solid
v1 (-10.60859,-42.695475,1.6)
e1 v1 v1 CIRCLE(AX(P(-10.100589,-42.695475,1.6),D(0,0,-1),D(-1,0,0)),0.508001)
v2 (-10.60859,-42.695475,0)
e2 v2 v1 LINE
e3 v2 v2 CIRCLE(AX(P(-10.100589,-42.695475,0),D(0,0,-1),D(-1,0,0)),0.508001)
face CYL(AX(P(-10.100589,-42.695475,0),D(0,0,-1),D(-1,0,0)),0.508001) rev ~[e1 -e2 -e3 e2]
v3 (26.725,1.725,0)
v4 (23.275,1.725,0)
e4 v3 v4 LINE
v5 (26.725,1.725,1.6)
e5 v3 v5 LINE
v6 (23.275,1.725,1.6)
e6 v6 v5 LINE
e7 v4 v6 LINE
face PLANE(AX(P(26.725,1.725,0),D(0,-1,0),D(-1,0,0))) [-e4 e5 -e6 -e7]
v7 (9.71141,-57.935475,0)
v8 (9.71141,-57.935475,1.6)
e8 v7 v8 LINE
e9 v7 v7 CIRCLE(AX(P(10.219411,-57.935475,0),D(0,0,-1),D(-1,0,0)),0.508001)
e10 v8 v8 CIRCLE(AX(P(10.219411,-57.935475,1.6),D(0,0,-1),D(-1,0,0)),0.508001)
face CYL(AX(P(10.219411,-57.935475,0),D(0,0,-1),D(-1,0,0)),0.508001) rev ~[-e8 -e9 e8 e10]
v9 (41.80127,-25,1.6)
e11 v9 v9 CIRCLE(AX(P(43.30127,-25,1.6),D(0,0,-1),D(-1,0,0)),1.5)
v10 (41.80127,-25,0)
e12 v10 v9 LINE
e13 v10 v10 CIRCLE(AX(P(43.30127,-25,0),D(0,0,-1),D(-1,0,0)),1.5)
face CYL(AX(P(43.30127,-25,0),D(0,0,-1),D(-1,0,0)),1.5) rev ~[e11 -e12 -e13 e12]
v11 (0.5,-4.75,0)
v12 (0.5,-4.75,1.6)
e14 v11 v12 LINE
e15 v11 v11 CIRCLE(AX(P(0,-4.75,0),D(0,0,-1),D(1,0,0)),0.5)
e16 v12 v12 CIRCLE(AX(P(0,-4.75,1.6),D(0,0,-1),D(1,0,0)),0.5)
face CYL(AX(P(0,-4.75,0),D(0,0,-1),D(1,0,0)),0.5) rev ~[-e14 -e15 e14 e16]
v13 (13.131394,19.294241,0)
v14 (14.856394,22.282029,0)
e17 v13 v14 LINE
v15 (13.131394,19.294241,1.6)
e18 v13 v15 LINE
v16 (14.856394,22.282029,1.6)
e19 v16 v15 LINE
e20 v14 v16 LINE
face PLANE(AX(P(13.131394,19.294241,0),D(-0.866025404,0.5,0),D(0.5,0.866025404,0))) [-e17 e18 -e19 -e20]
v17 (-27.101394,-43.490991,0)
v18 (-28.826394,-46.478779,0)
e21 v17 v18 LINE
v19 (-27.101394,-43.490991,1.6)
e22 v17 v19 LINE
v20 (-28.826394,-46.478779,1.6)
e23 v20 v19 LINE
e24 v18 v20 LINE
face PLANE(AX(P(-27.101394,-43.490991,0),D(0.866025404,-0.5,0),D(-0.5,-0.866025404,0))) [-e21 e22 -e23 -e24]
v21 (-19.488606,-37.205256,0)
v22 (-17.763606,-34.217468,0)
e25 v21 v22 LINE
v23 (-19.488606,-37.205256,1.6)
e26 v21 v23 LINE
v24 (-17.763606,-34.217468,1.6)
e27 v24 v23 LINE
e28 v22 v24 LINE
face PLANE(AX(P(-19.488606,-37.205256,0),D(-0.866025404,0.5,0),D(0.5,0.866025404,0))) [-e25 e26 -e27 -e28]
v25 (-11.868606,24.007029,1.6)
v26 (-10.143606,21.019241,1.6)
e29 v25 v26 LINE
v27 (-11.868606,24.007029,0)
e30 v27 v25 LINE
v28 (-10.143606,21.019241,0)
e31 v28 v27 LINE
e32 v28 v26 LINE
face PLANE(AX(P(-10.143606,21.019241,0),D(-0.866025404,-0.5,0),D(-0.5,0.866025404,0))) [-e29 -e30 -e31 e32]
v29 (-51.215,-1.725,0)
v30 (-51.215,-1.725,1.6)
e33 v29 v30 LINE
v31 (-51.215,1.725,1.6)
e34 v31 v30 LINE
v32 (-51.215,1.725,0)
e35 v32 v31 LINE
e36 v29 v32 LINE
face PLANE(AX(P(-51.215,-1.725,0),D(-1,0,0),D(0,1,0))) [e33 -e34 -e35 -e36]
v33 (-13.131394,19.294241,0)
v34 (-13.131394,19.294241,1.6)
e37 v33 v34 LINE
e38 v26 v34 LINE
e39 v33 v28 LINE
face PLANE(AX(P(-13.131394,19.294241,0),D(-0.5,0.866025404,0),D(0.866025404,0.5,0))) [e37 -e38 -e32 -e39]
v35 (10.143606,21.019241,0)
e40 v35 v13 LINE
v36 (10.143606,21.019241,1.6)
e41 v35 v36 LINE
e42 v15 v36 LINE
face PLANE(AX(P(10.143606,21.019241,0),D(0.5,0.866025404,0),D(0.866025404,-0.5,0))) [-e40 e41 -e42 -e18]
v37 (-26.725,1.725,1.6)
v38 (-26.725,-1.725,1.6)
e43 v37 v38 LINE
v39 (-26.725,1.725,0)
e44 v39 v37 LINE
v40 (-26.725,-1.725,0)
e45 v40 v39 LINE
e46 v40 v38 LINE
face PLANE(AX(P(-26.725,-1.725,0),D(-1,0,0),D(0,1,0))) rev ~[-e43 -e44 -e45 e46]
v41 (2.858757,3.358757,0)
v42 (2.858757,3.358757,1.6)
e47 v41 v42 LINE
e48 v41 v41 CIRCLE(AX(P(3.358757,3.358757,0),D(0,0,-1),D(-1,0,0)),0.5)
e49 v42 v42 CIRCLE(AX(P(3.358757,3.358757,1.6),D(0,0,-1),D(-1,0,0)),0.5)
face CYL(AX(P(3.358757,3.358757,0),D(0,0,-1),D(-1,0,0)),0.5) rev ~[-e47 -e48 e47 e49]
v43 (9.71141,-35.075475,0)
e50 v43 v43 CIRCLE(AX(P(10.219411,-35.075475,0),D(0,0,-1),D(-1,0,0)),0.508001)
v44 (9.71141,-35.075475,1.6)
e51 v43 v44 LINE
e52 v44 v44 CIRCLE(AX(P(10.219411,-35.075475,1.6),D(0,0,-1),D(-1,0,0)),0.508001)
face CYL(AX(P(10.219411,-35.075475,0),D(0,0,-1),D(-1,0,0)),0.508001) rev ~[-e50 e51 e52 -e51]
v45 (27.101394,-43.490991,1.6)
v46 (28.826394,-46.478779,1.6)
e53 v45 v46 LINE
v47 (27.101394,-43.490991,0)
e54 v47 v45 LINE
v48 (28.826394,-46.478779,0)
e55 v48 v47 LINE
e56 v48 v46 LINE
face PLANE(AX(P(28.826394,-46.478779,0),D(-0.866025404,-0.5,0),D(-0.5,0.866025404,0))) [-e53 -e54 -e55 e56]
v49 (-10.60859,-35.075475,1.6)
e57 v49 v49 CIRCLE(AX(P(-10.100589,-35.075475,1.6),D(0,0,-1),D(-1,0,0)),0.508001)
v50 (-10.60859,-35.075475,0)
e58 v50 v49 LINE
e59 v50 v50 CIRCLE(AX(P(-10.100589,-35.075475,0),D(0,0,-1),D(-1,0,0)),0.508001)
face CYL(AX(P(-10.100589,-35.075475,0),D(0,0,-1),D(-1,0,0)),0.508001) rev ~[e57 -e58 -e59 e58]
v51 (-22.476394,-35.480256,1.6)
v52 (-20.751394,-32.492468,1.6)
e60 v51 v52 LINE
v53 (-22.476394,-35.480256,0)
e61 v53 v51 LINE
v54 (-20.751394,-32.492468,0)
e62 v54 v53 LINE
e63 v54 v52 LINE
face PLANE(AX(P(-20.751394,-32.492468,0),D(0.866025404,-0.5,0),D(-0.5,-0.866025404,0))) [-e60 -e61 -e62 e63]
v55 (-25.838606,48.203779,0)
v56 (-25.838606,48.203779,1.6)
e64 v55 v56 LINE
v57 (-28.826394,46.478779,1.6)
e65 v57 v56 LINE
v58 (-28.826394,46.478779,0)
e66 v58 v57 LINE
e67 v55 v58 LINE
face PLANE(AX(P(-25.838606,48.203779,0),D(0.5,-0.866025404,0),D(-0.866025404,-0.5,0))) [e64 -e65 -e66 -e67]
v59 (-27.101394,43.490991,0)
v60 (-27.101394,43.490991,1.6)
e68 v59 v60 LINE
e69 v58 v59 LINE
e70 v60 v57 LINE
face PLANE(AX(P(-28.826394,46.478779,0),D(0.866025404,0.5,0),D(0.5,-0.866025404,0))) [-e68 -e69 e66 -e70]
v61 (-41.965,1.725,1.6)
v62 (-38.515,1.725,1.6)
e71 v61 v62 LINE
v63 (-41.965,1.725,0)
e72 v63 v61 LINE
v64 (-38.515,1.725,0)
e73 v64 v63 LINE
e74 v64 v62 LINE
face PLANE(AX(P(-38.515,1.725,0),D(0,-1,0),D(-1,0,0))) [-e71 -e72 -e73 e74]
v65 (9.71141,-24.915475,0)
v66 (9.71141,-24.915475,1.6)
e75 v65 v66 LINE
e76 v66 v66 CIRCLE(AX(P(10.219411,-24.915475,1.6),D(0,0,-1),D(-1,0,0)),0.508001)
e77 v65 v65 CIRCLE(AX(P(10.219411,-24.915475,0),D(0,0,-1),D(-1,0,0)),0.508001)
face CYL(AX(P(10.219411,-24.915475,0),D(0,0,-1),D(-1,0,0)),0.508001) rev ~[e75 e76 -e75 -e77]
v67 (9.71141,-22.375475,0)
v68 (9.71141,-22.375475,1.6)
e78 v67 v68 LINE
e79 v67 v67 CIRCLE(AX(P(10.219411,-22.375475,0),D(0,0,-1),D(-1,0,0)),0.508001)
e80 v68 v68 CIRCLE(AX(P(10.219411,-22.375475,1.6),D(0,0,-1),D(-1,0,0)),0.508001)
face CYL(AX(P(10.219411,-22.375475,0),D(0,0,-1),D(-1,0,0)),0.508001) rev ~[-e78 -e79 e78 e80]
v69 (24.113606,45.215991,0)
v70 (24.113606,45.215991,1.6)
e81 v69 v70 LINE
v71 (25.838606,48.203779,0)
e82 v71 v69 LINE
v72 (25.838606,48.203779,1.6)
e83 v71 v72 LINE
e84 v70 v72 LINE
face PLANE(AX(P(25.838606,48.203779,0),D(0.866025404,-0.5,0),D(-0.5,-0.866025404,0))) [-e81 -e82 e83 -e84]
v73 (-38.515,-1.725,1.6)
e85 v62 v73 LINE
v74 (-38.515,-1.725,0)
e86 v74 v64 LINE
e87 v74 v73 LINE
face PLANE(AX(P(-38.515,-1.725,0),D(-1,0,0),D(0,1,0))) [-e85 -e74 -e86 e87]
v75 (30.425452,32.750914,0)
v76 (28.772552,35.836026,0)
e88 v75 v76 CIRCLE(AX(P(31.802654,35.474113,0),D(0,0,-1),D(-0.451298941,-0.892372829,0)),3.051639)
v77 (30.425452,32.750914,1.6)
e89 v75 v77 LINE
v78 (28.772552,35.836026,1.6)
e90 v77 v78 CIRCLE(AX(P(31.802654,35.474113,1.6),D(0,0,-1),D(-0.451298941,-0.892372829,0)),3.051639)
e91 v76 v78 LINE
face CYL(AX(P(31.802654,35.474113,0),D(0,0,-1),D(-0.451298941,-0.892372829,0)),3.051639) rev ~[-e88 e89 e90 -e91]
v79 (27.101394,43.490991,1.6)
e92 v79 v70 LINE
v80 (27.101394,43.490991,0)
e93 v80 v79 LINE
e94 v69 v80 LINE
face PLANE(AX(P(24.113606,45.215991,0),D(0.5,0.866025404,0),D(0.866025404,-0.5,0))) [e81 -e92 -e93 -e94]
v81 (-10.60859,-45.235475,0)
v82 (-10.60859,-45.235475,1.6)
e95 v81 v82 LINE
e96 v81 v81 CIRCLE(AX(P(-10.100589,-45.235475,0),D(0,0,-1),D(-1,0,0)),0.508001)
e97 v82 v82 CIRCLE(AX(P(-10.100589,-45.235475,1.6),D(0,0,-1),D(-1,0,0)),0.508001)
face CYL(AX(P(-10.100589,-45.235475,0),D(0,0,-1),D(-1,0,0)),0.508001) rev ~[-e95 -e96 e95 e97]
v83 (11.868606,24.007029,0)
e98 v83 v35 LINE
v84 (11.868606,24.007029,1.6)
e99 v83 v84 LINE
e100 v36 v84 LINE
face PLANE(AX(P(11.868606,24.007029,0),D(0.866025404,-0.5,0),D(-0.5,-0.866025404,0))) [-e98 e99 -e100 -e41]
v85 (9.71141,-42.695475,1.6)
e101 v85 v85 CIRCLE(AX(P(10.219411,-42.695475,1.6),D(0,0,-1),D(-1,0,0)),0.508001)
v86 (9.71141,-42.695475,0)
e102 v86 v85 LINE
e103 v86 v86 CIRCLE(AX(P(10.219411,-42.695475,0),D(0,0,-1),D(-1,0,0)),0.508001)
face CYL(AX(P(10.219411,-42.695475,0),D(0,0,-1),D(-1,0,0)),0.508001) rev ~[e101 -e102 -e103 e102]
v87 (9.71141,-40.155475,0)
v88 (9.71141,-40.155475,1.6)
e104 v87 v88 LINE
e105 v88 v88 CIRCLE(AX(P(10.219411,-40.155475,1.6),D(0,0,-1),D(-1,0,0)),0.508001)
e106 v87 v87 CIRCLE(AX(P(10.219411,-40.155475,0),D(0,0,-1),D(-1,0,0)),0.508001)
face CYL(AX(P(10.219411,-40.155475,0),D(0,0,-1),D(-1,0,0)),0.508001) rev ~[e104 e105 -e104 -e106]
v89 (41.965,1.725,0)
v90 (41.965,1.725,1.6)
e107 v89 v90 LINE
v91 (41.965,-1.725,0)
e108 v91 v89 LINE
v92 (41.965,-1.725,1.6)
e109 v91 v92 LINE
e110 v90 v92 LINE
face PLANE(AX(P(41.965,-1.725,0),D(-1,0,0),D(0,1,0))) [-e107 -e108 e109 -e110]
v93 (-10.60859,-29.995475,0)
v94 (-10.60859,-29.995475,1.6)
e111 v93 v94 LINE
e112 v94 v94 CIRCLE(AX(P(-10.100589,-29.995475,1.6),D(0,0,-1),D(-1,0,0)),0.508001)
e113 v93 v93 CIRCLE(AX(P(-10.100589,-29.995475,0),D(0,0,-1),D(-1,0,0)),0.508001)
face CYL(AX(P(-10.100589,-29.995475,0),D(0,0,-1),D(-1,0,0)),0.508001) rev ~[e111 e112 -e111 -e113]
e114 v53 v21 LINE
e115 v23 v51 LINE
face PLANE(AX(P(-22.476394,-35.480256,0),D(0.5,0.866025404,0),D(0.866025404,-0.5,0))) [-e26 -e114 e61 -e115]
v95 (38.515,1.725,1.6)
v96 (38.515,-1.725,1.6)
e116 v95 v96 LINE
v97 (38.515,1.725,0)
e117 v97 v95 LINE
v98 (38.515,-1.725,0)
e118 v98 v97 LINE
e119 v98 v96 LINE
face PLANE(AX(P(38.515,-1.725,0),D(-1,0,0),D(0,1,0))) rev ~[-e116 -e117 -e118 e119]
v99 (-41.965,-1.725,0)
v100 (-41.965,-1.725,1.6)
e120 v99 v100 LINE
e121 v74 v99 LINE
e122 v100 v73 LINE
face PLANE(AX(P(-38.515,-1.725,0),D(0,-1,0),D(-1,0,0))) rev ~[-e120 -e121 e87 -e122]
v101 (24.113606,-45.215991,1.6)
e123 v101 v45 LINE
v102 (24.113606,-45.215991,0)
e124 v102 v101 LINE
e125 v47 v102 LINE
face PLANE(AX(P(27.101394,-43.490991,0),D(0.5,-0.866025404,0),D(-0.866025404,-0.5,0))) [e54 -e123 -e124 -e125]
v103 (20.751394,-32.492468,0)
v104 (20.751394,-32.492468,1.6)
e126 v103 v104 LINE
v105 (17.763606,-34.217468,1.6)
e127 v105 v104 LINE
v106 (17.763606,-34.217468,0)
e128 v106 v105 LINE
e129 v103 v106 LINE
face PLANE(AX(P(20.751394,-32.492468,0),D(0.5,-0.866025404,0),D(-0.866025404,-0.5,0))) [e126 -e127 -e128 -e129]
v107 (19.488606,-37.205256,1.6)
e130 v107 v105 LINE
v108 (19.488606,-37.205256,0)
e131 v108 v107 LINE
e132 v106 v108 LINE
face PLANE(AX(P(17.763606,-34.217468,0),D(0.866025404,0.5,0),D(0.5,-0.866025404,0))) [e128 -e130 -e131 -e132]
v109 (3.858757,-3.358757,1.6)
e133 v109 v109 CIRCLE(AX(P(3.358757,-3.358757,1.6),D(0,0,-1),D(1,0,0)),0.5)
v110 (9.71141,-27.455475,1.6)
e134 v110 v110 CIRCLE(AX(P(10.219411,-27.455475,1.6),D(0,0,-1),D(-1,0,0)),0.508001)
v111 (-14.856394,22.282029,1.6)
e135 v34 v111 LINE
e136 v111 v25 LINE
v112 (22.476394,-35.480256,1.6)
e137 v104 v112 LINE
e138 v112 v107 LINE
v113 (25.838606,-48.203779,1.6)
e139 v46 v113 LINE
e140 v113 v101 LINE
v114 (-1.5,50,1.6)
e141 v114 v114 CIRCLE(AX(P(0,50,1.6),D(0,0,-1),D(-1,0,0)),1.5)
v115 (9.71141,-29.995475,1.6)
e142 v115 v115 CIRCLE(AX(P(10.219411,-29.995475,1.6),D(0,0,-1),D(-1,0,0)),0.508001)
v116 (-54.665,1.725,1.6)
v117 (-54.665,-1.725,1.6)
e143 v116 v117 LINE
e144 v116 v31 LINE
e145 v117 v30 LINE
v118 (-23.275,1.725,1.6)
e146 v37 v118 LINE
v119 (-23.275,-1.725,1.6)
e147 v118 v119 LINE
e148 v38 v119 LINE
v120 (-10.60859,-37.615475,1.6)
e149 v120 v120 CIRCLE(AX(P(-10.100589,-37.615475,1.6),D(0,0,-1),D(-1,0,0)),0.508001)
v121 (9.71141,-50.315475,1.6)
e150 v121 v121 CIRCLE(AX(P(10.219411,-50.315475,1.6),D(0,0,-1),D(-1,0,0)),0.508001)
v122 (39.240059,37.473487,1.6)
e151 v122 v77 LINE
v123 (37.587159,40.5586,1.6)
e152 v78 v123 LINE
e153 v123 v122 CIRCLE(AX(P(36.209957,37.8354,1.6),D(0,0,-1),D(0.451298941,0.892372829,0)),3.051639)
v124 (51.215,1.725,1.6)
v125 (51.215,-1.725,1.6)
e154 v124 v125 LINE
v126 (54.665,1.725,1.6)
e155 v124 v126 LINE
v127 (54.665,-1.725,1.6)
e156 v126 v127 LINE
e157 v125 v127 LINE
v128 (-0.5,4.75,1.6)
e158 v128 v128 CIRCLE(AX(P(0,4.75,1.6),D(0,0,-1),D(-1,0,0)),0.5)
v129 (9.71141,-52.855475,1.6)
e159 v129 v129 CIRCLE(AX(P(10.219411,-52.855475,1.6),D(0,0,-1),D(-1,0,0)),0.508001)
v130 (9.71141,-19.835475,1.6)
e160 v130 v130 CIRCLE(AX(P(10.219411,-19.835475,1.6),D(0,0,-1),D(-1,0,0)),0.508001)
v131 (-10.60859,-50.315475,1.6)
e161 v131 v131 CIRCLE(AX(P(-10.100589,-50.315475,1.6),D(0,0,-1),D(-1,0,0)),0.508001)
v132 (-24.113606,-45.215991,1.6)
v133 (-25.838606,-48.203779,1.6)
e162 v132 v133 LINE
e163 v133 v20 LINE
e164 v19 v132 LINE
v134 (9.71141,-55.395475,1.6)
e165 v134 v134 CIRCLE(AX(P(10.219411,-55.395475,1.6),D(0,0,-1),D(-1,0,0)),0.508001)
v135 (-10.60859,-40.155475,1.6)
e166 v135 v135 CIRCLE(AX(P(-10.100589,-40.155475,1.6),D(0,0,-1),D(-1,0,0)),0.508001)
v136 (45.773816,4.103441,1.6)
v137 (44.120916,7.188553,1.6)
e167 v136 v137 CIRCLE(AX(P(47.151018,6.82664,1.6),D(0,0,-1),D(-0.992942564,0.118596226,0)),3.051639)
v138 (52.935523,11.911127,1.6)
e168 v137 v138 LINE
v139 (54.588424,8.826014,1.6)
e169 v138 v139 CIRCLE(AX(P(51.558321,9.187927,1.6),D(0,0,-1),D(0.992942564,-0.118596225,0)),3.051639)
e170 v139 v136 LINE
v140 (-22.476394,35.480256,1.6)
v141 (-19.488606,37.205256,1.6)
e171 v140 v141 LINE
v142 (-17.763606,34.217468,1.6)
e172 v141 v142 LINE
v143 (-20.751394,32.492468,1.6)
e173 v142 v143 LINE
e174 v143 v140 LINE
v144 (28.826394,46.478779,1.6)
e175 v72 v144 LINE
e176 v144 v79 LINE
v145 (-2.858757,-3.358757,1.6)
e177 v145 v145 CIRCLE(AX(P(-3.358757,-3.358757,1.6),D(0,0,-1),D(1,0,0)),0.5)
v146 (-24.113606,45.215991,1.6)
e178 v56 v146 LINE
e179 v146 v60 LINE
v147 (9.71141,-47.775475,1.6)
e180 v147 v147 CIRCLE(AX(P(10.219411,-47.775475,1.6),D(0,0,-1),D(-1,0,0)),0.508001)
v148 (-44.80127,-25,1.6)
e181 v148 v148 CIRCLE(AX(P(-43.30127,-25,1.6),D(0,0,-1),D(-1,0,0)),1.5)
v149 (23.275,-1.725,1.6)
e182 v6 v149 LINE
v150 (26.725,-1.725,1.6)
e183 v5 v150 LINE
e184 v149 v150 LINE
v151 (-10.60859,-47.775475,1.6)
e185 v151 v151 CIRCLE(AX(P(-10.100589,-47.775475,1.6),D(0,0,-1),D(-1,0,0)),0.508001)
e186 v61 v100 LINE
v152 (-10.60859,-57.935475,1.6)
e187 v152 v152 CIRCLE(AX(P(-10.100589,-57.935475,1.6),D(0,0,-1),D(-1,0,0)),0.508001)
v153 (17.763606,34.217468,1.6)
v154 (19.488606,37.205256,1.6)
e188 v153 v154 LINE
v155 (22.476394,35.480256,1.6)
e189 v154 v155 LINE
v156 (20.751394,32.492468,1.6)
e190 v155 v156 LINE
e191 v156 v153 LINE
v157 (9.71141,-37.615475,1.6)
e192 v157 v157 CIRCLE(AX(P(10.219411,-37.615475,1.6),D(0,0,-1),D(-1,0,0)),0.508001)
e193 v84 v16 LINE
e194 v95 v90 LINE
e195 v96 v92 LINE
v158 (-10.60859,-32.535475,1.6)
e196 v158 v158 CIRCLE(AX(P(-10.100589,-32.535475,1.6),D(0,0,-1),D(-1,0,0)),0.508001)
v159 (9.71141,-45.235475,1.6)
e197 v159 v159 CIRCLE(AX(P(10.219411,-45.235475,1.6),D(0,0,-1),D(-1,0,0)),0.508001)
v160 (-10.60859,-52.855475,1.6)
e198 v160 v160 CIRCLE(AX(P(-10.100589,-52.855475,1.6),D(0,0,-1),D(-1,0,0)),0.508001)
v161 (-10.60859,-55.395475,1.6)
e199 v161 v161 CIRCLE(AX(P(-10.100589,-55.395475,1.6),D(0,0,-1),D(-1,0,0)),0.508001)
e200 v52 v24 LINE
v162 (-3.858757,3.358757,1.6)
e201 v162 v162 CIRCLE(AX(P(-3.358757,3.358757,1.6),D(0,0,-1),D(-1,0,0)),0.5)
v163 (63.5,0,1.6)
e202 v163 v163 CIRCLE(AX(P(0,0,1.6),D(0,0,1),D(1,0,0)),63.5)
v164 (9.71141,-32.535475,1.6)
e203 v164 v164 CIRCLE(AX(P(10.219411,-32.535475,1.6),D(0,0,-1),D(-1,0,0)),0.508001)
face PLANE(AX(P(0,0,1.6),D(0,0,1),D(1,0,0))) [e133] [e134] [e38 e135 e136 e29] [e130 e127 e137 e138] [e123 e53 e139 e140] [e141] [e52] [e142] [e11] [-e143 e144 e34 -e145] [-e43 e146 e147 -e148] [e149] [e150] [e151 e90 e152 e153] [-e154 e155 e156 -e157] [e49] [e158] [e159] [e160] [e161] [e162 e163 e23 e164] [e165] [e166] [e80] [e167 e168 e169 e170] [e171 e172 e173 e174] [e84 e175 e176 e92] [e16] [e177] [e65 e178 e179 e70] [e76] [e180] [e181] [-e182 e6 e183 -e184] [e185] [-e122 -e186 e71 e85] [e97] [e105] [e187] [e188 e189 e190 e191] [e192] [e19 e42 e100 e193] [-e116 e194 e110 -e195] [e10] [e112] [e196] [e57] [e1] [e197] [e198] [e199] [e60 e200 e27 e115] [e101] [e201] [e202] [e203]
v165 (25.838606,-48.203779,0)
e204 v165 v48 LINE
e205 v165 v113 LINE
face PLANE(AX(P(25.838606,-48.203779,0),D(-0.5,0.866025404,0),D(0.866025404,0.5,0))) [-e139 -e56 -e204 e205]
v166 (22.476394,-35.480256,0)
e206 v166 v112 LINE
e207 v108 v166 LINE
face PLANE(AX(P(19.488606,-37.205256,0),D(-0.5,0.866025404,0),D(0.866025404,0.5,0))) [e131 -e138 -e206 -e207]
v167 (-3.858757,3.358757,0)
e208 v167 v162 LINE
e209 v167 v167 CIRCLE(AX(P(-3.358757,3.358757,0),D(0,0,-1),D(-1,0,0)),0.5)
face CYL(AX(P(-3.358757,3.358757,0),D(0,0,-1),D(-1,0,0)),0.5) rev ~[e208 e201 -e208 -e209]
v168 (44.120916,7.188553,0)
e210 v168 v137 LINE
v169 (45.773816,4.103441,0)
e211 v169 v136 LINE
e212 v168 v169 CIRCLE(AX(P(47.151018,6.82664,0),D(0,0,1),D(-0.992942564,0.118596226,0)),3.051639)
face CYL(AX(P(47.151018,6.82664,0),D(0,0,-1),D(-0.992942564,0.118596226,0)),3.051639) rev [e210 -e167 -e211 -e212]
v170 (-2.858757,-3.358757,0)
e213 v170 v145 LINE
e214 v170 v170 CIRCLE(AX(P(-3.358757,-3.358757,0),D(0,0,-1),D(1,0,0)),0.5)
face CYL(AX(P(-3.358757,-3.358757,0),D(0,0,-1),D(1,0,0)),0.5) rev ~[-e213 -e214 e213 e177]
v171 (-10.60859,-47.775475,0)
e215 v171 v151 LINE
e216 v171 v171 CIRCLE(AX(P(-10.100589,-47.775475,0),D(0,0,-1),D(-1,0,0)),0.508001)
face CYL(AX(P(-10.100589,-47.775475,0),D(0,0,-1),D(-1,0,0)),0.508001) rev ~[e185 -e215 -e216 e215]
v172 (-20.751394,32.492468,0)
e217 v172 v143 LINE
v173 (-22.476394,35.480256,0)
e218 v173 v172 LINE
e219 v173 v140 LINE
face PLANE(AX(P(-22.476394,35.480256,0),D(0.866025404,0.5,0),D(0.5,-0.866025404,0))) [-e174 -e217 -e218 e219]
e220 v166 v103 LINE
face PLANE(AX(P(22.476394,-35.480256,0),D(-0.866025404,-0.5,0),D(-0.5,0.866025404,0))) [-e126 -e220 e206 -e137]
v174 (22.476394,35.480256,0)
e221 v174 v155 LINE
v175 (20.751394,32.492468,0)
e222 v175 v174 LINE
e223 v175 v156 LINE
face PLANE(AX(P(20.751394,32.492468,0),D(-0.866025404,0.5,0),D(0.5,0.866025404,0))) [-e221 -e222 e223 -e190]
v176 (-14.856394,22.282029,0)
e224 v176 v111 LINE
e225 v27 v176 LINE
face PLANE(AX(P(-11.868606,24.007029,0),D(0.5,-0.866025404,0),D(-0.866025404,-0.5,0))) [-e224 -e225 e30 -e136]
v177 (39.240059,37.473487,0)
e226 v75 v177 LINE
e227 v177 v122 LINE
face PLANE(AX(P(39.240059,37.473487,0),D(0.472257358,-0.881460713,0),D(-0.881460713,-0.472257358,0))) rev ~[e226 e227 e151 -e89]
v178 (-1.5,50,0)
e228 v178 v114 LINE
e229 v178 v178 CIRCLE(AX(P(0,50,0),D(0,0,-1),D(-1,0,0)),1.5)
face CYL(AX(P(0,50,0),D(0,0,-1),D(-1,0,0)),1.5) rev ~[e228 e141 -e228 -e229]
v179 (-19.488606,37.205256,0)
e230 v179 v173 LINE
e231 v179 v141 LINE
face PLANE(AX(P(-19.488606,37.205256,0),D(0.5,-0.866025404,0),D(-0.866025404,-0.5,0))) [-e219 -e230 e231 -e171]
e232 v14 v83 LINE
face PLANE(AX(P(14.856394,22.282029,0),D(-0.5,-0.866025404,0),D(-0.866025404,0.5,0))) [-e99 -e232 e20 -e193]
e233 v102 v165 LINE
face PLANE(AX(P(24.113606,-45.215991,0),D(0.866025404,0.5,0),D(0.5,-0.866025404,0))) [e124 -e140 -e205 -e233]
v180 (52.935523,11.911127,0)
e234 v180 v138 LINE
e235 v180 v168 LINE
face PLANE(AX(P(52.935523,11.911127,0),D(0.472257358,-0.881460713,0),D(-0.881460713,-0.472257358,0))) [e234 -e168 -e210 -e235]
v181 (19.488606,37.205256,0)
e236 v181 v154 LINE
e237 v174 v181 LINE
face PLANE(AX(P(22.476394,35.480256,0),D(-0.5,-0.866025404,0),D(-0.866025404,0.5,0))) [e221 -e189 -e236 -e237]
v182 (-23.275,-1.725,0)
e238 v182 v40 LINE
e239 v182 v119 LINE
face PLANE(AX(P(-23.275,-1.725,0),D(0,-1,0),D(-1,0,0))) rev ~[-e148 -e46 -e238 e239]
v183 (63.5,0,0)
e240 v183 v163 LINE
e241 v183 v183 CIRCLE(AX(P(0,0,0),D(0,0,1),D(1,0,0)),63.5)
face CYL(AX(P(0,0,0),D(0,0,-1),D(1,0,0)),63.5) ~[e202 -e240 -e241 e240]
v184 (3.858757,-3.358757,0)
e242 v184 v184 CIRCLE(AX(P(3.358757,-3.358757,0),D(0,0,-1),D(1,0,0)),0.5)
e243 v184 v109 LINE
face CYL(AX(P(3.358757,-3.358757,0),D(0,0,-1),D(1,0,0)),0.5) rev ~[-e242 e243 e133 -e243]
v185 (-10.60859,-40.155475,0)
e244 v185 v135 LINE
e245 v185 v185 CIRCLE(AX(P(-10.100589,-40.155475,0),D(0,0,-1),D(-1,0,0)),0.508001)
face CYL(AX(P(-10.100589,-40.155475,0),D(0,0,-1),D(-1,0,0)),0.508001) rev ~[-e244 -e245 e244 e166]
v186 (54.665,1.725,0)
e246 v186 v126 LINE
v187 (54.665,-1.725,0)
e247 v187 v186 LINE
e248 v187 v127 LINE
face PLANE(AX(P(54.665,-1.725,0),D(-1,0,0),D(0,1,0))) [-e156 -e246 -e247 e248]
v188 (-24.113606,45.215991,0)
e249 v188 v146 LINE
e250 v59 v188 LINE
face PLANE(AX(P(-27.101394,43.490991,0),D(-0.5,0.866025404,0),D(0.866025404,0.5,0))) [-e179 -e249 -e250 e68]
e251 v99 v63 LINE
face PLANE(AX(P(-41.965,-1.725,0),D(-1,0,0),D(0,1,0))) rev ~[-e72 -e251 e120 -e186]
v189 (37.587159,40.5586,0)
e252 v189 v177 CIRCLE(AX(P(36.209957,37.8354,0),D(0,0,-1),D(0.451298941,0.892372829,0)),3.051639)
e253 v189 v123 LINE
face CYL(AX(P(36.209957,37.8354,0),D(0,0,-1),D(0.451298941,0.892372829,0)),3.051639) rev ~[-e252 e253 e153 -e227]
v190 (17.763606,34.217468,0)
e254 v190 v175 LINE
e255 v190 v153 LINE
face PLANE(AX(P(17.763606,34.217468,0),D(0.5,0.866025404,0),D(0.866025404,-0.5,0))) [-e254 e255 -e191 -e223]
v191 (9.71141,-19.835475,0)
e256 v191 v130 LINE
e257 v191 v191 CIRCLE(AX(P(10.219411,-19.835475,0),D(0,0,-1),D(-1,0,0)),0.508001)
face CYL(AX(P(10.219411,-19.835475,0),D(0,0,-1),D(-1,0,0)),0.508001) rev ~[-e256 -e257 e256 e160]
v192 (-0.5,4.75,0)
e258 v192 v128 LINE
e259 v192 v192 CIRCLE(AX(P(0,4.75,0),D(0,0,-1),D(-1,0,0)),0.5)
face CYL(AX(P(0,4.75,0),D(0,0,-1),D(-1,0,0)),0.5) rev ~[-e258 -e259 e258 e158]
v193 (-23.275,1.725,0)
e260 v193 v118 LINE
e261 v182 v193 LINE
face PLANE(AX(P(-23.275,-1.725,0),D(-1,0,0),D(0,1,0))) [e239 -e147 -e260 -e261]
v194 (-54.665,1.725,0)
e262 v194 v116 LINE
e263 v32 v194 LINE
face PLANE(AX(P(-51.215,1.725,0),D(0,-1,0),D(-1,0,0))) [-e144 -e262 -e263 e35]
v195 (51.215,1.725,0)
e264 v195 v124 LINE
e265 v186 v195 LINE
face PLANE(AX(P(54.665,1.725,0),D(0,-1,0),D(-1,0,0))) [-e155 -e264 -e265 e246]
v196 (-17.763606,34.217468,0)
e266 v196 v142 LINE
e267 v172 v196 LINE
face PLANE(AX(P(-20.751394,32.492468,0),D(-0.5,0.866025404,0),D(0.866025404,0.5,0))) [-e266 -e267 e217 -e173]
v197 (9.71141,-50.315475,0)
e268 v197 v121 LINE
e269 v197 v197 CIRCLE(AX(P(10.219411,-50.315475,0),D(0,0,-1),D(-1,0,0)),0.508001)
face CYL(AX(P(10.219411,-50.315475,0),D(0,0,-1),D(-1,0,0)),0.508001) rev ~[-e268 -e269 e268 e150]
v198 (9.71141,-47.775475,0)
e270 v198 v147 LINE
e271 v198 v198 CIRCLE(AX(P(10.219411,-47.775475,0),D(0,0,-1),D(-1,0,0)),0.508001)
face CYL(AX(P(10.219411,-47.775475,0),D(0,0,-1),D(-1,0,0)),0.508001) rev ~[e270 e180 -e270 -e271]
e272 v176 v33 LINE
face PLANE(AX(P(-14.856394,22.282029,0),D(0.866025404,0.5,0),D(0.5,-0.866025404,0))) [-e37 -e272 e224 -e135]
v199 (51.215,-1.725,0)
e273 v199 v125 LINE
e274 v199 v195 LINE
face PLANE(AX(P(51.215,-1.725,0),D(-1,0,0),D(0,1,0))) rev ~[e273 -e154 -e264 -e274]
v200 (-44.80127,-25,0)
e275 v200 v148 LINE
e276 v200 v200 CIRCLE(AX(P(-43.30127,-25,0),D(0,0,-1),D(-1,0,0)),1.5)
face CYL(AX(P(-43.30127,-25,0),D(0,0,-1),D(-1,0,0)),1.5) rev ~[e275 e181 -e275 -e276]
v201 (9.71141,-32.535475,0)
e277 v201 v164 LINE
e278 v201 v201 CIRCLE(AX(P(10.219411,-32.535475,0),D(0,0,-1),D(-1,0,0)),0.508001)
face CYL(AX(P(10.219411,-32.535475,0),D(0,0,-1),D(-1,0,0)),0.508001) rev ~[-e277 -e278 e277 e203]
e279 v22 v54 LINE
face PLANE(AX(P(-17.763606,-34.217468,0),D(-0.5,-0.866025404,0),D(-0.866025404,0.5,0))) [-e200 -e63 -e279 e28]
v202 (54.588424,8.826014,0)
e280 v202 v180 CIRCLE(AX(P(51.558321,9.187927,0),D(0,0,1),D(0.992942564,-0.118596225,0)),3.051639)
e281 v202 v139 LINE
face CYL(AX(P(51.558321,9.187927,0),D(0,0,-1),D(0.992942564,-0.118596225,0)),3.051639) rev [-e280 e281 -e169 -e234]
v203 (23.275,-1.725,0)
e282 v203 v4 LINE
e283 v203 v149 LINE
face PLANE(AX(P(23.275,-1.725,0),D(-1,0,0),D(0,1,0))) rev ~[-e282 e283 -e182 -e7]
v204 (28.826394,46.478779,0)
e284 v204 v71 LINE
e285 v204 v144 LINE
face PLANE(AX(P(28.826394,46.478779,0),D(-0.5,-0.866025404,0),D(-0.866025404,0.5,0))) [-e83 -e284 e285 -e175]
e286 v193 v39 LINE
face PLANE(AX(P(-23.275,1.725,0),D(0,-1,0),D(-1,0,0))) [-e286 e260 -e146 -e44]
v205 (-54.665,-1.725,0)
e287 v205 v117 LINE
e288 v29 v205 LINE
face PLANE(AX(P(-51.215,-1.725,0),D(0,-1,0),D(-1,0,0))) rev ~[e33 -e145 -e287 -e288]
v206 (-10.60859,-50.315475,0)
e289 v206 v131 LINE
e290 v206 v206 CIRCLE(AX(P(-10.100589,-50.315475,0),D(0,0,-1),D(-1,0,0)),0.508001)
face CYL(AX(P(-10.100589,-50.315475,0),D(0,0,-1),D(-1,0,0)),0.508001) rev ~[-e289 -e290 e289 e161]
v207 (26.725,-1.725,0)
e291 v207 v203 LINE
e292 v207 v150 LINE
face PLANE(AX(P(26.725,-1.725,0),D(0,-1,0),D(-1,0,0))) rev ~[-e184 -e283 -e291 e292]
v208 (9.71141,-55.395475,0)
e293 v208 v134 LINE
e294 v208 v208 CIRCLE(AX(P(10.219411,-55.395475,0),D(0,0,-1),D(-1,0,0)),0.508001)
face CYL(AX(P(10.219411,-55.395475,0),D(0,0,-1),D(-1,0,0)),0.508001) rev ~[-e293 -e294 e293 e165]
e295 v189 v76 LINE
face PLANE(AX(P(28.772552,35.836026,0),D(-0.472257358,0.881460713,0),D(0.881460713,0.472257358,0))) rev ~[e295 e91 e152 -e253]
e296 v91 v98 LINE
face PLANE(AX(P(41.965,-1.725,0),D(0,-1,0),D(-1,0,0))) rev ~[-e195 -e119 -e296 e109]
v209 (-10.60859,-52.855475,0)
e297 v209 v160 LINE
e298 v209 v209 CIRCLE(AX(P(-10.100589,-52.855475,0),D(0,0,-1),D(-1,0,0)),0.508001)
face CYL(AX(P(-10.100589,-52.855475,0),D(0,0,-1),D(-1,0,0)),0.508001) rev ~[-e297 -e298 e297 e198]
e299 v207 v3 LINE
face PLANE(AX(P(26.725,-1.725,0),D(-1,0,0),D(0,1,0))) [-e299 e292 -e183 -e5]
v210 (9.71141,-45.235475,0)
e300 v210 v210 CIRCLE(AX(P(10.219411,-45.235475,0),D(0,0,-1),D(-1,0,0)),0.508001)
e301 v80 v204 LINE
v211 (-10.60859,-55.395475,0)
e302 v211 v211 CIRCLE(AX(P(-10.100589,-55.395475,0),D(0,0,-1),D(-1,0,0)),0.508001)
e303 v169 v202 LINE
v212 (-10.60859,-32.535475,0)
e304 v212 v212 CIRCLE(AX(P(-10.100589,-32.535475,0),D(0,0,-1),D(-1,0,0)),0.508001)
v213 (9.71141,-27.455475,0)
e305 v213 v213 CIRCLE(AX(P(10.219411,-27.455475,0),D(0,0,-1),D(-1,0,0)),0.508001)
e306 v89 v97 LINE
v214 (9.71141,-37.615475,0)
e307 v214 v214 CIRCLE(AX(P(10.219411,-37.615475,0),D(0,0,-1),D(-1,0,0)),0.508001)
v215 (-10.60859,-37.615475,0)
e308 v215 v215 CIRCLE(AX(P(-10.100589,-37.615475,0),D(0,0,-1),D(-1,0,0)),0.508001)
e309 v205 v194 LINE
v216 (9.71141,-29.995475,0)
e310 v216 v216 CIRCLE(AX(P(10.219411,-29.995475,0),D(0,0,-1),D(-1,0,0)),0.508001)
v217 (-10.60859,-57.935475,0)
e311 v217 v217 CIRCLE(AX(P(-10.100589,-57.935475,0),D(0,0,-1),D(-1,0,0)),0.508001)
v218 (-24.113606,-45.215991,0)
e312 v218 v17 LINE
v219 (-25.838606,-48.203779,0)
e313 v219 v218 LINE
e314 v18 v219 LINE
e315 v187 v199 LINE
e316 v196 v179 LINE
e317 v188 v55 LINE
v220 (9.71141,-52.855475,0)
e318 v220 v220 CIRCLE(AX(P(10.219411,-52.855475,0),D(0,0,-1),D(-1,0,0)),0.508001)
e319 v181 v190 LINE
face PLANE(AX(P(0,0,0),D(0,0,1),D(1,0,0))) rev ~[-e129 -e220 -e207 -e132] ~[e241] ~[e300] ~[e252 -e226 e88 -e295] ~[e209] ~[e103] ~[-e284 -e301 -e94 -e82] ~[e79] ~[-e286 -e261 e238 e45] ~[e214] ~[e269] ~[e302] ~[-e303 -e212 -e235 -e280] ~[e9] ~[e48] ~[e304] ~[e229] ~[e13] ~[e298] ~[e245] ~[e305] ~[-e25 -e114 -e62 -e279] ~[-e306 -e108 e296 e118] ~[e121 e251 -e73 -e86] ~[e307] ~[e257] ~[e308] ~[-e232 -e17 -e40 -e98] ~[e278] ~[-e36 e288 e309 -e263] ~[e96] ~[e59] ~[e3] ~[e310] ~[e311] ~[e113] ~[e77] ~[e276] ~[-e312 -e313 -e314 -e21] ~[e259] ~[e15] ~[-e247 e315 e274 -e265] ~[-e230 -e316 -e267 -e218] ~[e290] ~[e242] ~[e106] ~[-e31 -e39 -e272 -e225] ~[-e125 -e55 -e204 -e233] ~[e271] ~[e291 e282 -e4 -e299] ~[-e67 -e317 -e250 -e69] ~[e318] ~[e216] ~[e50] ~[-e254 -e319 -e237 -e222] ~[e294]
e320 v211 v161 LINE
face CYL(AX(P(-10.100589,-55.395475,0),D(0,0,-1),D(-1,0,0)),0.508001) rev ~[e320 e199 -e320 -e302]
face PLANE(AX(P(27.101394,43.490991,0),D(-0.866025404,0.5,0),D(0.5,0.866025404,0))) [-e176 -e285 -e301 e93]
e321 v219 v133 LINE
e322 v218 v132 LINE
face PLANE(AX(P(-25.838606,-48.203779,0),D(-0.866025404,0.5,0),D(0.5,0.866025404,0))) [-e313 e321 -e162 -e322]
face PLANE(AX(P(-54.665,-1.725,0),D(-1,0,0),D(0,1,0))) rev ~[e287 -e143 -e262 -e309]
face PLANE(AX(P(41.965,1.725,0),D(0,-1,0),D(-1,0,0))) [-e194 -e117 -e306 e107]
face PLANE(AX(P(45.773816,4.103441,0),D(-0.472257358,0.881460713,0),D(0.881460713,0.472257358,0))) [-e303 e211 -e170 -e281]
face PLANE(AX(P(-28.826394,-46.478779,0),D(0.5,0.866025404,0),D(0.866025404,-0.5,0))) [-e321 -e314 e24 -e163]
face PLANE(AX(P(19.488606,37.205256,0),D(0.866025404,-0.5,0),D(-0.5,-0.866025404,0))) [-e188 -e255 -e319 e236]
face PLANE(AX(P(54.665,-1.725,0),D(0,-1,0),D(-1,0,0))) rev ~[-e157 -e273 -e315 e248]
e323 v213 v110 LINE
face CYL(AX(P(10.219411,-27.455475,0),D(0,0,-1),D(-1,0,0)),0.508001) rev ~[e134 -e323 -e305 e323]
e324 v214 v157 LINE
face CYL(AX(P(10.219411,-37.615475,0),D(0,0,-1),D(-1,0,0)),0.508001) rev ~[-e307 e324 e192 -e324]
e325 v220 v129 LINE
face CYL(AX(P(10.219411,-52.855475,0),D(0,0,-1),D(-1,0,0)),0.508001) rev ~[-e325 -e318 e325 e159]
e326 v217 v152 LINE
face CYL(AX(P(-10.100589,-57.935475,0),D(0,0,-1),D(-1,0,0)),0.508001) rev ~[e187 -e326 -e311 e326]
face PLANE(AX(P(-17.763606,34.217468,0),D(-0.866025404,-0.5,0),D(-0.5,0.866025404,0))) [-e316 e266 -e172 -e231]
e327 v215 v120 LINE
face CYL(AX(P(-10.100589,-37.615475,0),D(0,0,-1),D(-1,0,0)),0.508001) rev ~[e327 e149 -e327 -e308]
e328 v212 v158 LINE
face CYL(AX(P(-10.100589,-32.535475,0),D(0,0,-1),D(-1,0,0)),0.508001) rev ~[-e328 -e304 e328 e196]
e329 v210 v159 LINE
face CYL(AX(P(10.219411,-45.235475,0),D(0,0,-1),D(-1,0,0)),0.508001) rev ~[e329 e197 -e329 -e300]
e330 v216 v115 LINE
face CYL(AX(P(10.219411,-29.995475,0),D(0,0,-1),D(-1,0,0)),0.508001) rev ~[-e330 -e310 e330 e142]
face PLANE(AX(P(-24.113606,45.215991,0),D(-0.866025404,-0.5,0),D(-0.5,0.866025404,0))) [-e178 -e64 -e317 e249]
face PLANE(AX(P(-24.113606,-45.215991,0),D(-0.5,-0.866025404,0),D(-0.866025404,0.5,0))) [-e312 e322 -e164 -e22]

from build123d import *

# Parameters (mm, degrees)
SKETCH1_R           = 63.5
BOSS_EXTRUDE1_DEPTH = 1.6
SKETCH3_R           = 1.75
CUT_EXTRUDE4_DEPTH  = 1.6
SKETCH2_R           = 1.5
CUT_EXTRUDE5_DEPTH  = 1.6
CUT_EXTRUDE6_DEPTH  = 10
SKETCH5_R           = 0.508001015
SKETCH5_W           = 3.45
SKETCH5_H           = 3.45
CUT_EXTRUDE7_DEPTH  = 10
SKETCH6_R           = 0.5
CUT_EXTRUDE8_DEPTH  = 10


with BuildPart() as part:
    # Sketch1 → Boss-Extrude1 (new body)
    with BuildSketch(Plane.XY):
        Circle(SKETCH1_R)
    extrude(amount=BOSS_EXTRUDE1_DEPTH)

    # Sketch3 → Cut-Extrude4 (cut)
    with BuildSketch(Plane(origin=(0, 0, 0), x_dir=(-1, 0, 0), z_dir=(0, 0, -1))):
        with Locations((-34.006305458, 36.654756705)):
            Circle(SKETCH3_R)
        with Locations((-49.354669589, 8.007283544)):
            Circle(SKETCH3_R)
    extrude(amount=-CUT_EXTRUDE4_DEPTH, mode=Mode.SUBTRACT)

    # Sketch2 → Cut-Extrude5 (cut)
    with BuildSketch(Plane(origin=(0, 0, 0), x_dir=(-1, 0, 0), z_dir=(0, 0, -1))):
        with Locations((0, 50)):
            Circle(SKETCH2_R)
        with Locations((43.301270189, -25)):
            Circle(SKETCH2_R)
        with Locations((-43.301270189, -25)):
            Circle(SKETCH2_R)
    extrude(amount=-CUT_EXTRUDE5_DEPTH, mode=Mode.SUBTRACT)

    # Sketch4 → Cut-Extrude6 (cut)
    with BuildSketch(Plane(origin=(0, 0, 0), x_dir=(-1, 0, 0), z_dir=(0, 0, -1))):
        with BuildLine():
            Line((-52.935522776, 11.911126581), (-44.12091565, 7.188553002))
            ThreePointArc((-44.12091565, 7.188553002), (-44.461118004, 5.385481223), (-45.773816402, 4.103440508))
            Line((-45.773816402, 4.103440508), (-54.588423529, 8.826014086))
            ThreePointArc((-54.588423529, 8.826014086), (-54.248221174, 10.629085865), (-52.935522776, 11.911126581))
        make_face()
        with BuildLine():
            Line((-39.240059397, 37.473487247), (-30.425452271, 32.750913668))
            ThreePointArc((-30.425452271, 32.750913668), (-29.112753873, 34.032954384), (-28.772551518, 35.836026163))
            Line((-28.772551518, 35.836026163), (-37.587158645, 40.558599742))
            ThreePointArc((-37.587158645, 40.558599742), (-38.899857043, 39.276559026), (-39.240059397, 37.473487247))
        make_face()
    extrude(amount=-CUT_EXTRUDE6_DEPTH, mode=Mode.SUBTRACT)

    # Sketch5 → Cut-Extrude7 (cut)
    with BuildSketch(Plane(origin=(0, 0, 0), x_dir=(-1, 0, 0), z_dir=(0, 0, -1))):
        with Locations((-10.219411384, -19.83547506)):
            Circle(SKETCH5_R)
        with Locations((-10.219411384, -22.37547506)):
            Circle(SKETCH5_R)
        with Locations((-10.219411384, -24.91547506)):
            Circle(SKETCH5_R)
        with Locations((-10.219411384, -27.45547506)):
            Circle(SKETCH5_R)
        with Locations((-10.219411384, -29.99547506)):
            Circle(SKETCH5_R)
        with Locations((-10.219411384, -32.53547506)):
            Circle(SKETCH5_R)
        with Locations((-10.219411384, -35.07547506)):
            Circle(SKETCH5_R)
        with Locations((-10.219411384, -37.61547506)):
            Circle(SKETCH5_R)
        with Locations((-10.219411384, -40.15547506)):
            Circle(SKETCH5_R)
        with Locations((-10.219411384, -42.69547506)):
            Circle(SKETCH5_R)
        with Locations((-10.219411384, -45.23547506)):
            Circle(SKETCH5_R)
        with Locations((-10.219411384, -47.77547506)):
            Circle(SKETCH5_R)
        with Locations((-10.219411384, -50.31547506)):
            Circle(SKETCH5_R)
        with Locations((-10.219411384, -52.85547506)):
            Circle(SKETCH5_R)
        with Locations((-10.219411384, -55.39547506)):
            Circle(SKETCH5_R)
        with Locations((-10.219411384, -57.93547506)):
            Circle(SKETCH5_R)
        with Locations((10.100588616, -57.93547506)):
            Circle(SKETCH5_R)
        with Locations((10.100588616, -55.39547506)):
            Circle(SKETCH5_R)
        with Locations((10.100588616, -52.85547506)):
            Circle(SKETCH5_R)
        with Locations((10.100588616, -50.31547506)):
            Circle(SKETCH5_R)
        with Locations((10.100588616, -47.77547506)):
            Circle(SKETCH5_R)
        with Locations((10.100588616, -45.23547506)):
            Circle(SKETCH5_R)
        with Locations((10.100588616, -42.69547506)):
            Circle(SKETCH5_R)
        with Locations((10.100588616, -40.15547506)):
            Circle(SKETCH5_R)
        with Locations((10.100588616, -37.61547506)):
            Circle(SKETCH5_R)
        with Locations((10.100588616, -29.99547506)):
            Circle(SKETCH5_R)
        with Locations((10.100588616, -32.53547506)):
            Circle(SKETCH5_R)
        with Locations((10.100588616, -35.07547506)):
            Circle(SKETCH5_R)
        Polygon((-14.856393822, 22.282028916), (-11.868606178, 24.007028916), (-10.143606178, 21.019241273), (-13.131393822, 19.294241273), align=None)
        with Locations((-25, 0)):
            Rectangle(SKETCH5_W, SKETCH5_H)
        with Locations((-40.24, 0)):
            Rectangle(SKETCH5_W, SKETCH5_H)
        with Locations((-52.94, 0)):
            Rectangle(SKETCH5_W, SKETCH5_H)
        Polygon((-22.476393822, 35.48025607), (-19.488606178, 37.20525607), (-17.763606178, 34.217468427), (-20.751393822, 32.492468427), align=None)
        Polygon((-28.826393822, 46.478778698), (-25.838606178, 48.203778698), (-24.113606178, 45.215991055), (-27.101393822, 43.490991055), align=None)
        Polygon((11.868606178, 24.007028916), (14.856393822, 22.282028916), (13.131393822, 19.294241273), (10.143606178, 21.019241273), align=None)
        Polygon((19.488606178, 37.20525607), (22.476393822, 35.48025607), (20.751393822, 32.492468427), (17.763606178, 34.217468427), align=None)
        Polygon((25.838606178, 48.203778698), (28.826393822, 46.478778698), (27.101393822, 43.490991055), (24.113606178, 45.215991055), align=None)
        with Locations((25, 0)):
            Rectangle(SKETCH5_W, SKETCH5_H)
        with Locations((40.24, 0)):
            Rectangle(SKETCH5_W, SKETCH5_H)
        with Locations((52.94, 0)):
            Rectangle(SKETCH5_W, SKETCH5_H)
        Polygon((22.476393822, -35.48025607), (19.488606178, -37.20525607), (17.763606178, -34.217468427), (20.751393822, -32.492468427), align=None)
        Polygon((28.826393822, -46.478778698), (25.838606178, -48.203778698), (24.113606178, -45.215991055), (27.101393822, -43.490991055), align=None)
        Polygon((-19.488606178, -37.20525607), (-22.476393822, -35.48025607), (-20.751393822, -32.492468427), (-17.763606178, -34.217468427), align=None)
        Polygon((-25.838606178, -48.203778698), (-28.826393822, -46.478778698), (-27.101393822, -43.490991055), (-24.113606178, -45.215991055), align=None)
    extrude(amount=-CUT_EXTRUDE7_DEPTH, mode=Mode.SUBTRACT)

    # Sketch6 → Cut-Extrude8 (cut)
    with BuildSketch(Plane(origin=(0, 0, 0), x_dir=(-1, 0, 0), z_dir=(0, 0, -1))):
        with Locations((0, 4.75)):
            Circle(SKETCH6_R)
        with Locations((-3.358757211, 3.358757211)):
            Circle(SKETCH6_R)
        with Locations((3.358757211, 3.358757211)):
            Circle(SKETCH6_R)
        with Locations(Location((3.358757211, -3.358757211, 0), (0, 0, 180))):
            Circle(SKETCH6_R)
        with Locations(Location((0, -4.75, 0), (0, 0, 180))):
            Circle(SKETCH6_R)
        with Locations(Location((-3.358757211, -3.358757211, 0), (0, 0, 180))):
            Circle(SKETCH6_R)
    extrude(amount=-CUT_EXTRUDE8_DEPTH, mode=Mode.SUBTRACT)


solid = part.part
